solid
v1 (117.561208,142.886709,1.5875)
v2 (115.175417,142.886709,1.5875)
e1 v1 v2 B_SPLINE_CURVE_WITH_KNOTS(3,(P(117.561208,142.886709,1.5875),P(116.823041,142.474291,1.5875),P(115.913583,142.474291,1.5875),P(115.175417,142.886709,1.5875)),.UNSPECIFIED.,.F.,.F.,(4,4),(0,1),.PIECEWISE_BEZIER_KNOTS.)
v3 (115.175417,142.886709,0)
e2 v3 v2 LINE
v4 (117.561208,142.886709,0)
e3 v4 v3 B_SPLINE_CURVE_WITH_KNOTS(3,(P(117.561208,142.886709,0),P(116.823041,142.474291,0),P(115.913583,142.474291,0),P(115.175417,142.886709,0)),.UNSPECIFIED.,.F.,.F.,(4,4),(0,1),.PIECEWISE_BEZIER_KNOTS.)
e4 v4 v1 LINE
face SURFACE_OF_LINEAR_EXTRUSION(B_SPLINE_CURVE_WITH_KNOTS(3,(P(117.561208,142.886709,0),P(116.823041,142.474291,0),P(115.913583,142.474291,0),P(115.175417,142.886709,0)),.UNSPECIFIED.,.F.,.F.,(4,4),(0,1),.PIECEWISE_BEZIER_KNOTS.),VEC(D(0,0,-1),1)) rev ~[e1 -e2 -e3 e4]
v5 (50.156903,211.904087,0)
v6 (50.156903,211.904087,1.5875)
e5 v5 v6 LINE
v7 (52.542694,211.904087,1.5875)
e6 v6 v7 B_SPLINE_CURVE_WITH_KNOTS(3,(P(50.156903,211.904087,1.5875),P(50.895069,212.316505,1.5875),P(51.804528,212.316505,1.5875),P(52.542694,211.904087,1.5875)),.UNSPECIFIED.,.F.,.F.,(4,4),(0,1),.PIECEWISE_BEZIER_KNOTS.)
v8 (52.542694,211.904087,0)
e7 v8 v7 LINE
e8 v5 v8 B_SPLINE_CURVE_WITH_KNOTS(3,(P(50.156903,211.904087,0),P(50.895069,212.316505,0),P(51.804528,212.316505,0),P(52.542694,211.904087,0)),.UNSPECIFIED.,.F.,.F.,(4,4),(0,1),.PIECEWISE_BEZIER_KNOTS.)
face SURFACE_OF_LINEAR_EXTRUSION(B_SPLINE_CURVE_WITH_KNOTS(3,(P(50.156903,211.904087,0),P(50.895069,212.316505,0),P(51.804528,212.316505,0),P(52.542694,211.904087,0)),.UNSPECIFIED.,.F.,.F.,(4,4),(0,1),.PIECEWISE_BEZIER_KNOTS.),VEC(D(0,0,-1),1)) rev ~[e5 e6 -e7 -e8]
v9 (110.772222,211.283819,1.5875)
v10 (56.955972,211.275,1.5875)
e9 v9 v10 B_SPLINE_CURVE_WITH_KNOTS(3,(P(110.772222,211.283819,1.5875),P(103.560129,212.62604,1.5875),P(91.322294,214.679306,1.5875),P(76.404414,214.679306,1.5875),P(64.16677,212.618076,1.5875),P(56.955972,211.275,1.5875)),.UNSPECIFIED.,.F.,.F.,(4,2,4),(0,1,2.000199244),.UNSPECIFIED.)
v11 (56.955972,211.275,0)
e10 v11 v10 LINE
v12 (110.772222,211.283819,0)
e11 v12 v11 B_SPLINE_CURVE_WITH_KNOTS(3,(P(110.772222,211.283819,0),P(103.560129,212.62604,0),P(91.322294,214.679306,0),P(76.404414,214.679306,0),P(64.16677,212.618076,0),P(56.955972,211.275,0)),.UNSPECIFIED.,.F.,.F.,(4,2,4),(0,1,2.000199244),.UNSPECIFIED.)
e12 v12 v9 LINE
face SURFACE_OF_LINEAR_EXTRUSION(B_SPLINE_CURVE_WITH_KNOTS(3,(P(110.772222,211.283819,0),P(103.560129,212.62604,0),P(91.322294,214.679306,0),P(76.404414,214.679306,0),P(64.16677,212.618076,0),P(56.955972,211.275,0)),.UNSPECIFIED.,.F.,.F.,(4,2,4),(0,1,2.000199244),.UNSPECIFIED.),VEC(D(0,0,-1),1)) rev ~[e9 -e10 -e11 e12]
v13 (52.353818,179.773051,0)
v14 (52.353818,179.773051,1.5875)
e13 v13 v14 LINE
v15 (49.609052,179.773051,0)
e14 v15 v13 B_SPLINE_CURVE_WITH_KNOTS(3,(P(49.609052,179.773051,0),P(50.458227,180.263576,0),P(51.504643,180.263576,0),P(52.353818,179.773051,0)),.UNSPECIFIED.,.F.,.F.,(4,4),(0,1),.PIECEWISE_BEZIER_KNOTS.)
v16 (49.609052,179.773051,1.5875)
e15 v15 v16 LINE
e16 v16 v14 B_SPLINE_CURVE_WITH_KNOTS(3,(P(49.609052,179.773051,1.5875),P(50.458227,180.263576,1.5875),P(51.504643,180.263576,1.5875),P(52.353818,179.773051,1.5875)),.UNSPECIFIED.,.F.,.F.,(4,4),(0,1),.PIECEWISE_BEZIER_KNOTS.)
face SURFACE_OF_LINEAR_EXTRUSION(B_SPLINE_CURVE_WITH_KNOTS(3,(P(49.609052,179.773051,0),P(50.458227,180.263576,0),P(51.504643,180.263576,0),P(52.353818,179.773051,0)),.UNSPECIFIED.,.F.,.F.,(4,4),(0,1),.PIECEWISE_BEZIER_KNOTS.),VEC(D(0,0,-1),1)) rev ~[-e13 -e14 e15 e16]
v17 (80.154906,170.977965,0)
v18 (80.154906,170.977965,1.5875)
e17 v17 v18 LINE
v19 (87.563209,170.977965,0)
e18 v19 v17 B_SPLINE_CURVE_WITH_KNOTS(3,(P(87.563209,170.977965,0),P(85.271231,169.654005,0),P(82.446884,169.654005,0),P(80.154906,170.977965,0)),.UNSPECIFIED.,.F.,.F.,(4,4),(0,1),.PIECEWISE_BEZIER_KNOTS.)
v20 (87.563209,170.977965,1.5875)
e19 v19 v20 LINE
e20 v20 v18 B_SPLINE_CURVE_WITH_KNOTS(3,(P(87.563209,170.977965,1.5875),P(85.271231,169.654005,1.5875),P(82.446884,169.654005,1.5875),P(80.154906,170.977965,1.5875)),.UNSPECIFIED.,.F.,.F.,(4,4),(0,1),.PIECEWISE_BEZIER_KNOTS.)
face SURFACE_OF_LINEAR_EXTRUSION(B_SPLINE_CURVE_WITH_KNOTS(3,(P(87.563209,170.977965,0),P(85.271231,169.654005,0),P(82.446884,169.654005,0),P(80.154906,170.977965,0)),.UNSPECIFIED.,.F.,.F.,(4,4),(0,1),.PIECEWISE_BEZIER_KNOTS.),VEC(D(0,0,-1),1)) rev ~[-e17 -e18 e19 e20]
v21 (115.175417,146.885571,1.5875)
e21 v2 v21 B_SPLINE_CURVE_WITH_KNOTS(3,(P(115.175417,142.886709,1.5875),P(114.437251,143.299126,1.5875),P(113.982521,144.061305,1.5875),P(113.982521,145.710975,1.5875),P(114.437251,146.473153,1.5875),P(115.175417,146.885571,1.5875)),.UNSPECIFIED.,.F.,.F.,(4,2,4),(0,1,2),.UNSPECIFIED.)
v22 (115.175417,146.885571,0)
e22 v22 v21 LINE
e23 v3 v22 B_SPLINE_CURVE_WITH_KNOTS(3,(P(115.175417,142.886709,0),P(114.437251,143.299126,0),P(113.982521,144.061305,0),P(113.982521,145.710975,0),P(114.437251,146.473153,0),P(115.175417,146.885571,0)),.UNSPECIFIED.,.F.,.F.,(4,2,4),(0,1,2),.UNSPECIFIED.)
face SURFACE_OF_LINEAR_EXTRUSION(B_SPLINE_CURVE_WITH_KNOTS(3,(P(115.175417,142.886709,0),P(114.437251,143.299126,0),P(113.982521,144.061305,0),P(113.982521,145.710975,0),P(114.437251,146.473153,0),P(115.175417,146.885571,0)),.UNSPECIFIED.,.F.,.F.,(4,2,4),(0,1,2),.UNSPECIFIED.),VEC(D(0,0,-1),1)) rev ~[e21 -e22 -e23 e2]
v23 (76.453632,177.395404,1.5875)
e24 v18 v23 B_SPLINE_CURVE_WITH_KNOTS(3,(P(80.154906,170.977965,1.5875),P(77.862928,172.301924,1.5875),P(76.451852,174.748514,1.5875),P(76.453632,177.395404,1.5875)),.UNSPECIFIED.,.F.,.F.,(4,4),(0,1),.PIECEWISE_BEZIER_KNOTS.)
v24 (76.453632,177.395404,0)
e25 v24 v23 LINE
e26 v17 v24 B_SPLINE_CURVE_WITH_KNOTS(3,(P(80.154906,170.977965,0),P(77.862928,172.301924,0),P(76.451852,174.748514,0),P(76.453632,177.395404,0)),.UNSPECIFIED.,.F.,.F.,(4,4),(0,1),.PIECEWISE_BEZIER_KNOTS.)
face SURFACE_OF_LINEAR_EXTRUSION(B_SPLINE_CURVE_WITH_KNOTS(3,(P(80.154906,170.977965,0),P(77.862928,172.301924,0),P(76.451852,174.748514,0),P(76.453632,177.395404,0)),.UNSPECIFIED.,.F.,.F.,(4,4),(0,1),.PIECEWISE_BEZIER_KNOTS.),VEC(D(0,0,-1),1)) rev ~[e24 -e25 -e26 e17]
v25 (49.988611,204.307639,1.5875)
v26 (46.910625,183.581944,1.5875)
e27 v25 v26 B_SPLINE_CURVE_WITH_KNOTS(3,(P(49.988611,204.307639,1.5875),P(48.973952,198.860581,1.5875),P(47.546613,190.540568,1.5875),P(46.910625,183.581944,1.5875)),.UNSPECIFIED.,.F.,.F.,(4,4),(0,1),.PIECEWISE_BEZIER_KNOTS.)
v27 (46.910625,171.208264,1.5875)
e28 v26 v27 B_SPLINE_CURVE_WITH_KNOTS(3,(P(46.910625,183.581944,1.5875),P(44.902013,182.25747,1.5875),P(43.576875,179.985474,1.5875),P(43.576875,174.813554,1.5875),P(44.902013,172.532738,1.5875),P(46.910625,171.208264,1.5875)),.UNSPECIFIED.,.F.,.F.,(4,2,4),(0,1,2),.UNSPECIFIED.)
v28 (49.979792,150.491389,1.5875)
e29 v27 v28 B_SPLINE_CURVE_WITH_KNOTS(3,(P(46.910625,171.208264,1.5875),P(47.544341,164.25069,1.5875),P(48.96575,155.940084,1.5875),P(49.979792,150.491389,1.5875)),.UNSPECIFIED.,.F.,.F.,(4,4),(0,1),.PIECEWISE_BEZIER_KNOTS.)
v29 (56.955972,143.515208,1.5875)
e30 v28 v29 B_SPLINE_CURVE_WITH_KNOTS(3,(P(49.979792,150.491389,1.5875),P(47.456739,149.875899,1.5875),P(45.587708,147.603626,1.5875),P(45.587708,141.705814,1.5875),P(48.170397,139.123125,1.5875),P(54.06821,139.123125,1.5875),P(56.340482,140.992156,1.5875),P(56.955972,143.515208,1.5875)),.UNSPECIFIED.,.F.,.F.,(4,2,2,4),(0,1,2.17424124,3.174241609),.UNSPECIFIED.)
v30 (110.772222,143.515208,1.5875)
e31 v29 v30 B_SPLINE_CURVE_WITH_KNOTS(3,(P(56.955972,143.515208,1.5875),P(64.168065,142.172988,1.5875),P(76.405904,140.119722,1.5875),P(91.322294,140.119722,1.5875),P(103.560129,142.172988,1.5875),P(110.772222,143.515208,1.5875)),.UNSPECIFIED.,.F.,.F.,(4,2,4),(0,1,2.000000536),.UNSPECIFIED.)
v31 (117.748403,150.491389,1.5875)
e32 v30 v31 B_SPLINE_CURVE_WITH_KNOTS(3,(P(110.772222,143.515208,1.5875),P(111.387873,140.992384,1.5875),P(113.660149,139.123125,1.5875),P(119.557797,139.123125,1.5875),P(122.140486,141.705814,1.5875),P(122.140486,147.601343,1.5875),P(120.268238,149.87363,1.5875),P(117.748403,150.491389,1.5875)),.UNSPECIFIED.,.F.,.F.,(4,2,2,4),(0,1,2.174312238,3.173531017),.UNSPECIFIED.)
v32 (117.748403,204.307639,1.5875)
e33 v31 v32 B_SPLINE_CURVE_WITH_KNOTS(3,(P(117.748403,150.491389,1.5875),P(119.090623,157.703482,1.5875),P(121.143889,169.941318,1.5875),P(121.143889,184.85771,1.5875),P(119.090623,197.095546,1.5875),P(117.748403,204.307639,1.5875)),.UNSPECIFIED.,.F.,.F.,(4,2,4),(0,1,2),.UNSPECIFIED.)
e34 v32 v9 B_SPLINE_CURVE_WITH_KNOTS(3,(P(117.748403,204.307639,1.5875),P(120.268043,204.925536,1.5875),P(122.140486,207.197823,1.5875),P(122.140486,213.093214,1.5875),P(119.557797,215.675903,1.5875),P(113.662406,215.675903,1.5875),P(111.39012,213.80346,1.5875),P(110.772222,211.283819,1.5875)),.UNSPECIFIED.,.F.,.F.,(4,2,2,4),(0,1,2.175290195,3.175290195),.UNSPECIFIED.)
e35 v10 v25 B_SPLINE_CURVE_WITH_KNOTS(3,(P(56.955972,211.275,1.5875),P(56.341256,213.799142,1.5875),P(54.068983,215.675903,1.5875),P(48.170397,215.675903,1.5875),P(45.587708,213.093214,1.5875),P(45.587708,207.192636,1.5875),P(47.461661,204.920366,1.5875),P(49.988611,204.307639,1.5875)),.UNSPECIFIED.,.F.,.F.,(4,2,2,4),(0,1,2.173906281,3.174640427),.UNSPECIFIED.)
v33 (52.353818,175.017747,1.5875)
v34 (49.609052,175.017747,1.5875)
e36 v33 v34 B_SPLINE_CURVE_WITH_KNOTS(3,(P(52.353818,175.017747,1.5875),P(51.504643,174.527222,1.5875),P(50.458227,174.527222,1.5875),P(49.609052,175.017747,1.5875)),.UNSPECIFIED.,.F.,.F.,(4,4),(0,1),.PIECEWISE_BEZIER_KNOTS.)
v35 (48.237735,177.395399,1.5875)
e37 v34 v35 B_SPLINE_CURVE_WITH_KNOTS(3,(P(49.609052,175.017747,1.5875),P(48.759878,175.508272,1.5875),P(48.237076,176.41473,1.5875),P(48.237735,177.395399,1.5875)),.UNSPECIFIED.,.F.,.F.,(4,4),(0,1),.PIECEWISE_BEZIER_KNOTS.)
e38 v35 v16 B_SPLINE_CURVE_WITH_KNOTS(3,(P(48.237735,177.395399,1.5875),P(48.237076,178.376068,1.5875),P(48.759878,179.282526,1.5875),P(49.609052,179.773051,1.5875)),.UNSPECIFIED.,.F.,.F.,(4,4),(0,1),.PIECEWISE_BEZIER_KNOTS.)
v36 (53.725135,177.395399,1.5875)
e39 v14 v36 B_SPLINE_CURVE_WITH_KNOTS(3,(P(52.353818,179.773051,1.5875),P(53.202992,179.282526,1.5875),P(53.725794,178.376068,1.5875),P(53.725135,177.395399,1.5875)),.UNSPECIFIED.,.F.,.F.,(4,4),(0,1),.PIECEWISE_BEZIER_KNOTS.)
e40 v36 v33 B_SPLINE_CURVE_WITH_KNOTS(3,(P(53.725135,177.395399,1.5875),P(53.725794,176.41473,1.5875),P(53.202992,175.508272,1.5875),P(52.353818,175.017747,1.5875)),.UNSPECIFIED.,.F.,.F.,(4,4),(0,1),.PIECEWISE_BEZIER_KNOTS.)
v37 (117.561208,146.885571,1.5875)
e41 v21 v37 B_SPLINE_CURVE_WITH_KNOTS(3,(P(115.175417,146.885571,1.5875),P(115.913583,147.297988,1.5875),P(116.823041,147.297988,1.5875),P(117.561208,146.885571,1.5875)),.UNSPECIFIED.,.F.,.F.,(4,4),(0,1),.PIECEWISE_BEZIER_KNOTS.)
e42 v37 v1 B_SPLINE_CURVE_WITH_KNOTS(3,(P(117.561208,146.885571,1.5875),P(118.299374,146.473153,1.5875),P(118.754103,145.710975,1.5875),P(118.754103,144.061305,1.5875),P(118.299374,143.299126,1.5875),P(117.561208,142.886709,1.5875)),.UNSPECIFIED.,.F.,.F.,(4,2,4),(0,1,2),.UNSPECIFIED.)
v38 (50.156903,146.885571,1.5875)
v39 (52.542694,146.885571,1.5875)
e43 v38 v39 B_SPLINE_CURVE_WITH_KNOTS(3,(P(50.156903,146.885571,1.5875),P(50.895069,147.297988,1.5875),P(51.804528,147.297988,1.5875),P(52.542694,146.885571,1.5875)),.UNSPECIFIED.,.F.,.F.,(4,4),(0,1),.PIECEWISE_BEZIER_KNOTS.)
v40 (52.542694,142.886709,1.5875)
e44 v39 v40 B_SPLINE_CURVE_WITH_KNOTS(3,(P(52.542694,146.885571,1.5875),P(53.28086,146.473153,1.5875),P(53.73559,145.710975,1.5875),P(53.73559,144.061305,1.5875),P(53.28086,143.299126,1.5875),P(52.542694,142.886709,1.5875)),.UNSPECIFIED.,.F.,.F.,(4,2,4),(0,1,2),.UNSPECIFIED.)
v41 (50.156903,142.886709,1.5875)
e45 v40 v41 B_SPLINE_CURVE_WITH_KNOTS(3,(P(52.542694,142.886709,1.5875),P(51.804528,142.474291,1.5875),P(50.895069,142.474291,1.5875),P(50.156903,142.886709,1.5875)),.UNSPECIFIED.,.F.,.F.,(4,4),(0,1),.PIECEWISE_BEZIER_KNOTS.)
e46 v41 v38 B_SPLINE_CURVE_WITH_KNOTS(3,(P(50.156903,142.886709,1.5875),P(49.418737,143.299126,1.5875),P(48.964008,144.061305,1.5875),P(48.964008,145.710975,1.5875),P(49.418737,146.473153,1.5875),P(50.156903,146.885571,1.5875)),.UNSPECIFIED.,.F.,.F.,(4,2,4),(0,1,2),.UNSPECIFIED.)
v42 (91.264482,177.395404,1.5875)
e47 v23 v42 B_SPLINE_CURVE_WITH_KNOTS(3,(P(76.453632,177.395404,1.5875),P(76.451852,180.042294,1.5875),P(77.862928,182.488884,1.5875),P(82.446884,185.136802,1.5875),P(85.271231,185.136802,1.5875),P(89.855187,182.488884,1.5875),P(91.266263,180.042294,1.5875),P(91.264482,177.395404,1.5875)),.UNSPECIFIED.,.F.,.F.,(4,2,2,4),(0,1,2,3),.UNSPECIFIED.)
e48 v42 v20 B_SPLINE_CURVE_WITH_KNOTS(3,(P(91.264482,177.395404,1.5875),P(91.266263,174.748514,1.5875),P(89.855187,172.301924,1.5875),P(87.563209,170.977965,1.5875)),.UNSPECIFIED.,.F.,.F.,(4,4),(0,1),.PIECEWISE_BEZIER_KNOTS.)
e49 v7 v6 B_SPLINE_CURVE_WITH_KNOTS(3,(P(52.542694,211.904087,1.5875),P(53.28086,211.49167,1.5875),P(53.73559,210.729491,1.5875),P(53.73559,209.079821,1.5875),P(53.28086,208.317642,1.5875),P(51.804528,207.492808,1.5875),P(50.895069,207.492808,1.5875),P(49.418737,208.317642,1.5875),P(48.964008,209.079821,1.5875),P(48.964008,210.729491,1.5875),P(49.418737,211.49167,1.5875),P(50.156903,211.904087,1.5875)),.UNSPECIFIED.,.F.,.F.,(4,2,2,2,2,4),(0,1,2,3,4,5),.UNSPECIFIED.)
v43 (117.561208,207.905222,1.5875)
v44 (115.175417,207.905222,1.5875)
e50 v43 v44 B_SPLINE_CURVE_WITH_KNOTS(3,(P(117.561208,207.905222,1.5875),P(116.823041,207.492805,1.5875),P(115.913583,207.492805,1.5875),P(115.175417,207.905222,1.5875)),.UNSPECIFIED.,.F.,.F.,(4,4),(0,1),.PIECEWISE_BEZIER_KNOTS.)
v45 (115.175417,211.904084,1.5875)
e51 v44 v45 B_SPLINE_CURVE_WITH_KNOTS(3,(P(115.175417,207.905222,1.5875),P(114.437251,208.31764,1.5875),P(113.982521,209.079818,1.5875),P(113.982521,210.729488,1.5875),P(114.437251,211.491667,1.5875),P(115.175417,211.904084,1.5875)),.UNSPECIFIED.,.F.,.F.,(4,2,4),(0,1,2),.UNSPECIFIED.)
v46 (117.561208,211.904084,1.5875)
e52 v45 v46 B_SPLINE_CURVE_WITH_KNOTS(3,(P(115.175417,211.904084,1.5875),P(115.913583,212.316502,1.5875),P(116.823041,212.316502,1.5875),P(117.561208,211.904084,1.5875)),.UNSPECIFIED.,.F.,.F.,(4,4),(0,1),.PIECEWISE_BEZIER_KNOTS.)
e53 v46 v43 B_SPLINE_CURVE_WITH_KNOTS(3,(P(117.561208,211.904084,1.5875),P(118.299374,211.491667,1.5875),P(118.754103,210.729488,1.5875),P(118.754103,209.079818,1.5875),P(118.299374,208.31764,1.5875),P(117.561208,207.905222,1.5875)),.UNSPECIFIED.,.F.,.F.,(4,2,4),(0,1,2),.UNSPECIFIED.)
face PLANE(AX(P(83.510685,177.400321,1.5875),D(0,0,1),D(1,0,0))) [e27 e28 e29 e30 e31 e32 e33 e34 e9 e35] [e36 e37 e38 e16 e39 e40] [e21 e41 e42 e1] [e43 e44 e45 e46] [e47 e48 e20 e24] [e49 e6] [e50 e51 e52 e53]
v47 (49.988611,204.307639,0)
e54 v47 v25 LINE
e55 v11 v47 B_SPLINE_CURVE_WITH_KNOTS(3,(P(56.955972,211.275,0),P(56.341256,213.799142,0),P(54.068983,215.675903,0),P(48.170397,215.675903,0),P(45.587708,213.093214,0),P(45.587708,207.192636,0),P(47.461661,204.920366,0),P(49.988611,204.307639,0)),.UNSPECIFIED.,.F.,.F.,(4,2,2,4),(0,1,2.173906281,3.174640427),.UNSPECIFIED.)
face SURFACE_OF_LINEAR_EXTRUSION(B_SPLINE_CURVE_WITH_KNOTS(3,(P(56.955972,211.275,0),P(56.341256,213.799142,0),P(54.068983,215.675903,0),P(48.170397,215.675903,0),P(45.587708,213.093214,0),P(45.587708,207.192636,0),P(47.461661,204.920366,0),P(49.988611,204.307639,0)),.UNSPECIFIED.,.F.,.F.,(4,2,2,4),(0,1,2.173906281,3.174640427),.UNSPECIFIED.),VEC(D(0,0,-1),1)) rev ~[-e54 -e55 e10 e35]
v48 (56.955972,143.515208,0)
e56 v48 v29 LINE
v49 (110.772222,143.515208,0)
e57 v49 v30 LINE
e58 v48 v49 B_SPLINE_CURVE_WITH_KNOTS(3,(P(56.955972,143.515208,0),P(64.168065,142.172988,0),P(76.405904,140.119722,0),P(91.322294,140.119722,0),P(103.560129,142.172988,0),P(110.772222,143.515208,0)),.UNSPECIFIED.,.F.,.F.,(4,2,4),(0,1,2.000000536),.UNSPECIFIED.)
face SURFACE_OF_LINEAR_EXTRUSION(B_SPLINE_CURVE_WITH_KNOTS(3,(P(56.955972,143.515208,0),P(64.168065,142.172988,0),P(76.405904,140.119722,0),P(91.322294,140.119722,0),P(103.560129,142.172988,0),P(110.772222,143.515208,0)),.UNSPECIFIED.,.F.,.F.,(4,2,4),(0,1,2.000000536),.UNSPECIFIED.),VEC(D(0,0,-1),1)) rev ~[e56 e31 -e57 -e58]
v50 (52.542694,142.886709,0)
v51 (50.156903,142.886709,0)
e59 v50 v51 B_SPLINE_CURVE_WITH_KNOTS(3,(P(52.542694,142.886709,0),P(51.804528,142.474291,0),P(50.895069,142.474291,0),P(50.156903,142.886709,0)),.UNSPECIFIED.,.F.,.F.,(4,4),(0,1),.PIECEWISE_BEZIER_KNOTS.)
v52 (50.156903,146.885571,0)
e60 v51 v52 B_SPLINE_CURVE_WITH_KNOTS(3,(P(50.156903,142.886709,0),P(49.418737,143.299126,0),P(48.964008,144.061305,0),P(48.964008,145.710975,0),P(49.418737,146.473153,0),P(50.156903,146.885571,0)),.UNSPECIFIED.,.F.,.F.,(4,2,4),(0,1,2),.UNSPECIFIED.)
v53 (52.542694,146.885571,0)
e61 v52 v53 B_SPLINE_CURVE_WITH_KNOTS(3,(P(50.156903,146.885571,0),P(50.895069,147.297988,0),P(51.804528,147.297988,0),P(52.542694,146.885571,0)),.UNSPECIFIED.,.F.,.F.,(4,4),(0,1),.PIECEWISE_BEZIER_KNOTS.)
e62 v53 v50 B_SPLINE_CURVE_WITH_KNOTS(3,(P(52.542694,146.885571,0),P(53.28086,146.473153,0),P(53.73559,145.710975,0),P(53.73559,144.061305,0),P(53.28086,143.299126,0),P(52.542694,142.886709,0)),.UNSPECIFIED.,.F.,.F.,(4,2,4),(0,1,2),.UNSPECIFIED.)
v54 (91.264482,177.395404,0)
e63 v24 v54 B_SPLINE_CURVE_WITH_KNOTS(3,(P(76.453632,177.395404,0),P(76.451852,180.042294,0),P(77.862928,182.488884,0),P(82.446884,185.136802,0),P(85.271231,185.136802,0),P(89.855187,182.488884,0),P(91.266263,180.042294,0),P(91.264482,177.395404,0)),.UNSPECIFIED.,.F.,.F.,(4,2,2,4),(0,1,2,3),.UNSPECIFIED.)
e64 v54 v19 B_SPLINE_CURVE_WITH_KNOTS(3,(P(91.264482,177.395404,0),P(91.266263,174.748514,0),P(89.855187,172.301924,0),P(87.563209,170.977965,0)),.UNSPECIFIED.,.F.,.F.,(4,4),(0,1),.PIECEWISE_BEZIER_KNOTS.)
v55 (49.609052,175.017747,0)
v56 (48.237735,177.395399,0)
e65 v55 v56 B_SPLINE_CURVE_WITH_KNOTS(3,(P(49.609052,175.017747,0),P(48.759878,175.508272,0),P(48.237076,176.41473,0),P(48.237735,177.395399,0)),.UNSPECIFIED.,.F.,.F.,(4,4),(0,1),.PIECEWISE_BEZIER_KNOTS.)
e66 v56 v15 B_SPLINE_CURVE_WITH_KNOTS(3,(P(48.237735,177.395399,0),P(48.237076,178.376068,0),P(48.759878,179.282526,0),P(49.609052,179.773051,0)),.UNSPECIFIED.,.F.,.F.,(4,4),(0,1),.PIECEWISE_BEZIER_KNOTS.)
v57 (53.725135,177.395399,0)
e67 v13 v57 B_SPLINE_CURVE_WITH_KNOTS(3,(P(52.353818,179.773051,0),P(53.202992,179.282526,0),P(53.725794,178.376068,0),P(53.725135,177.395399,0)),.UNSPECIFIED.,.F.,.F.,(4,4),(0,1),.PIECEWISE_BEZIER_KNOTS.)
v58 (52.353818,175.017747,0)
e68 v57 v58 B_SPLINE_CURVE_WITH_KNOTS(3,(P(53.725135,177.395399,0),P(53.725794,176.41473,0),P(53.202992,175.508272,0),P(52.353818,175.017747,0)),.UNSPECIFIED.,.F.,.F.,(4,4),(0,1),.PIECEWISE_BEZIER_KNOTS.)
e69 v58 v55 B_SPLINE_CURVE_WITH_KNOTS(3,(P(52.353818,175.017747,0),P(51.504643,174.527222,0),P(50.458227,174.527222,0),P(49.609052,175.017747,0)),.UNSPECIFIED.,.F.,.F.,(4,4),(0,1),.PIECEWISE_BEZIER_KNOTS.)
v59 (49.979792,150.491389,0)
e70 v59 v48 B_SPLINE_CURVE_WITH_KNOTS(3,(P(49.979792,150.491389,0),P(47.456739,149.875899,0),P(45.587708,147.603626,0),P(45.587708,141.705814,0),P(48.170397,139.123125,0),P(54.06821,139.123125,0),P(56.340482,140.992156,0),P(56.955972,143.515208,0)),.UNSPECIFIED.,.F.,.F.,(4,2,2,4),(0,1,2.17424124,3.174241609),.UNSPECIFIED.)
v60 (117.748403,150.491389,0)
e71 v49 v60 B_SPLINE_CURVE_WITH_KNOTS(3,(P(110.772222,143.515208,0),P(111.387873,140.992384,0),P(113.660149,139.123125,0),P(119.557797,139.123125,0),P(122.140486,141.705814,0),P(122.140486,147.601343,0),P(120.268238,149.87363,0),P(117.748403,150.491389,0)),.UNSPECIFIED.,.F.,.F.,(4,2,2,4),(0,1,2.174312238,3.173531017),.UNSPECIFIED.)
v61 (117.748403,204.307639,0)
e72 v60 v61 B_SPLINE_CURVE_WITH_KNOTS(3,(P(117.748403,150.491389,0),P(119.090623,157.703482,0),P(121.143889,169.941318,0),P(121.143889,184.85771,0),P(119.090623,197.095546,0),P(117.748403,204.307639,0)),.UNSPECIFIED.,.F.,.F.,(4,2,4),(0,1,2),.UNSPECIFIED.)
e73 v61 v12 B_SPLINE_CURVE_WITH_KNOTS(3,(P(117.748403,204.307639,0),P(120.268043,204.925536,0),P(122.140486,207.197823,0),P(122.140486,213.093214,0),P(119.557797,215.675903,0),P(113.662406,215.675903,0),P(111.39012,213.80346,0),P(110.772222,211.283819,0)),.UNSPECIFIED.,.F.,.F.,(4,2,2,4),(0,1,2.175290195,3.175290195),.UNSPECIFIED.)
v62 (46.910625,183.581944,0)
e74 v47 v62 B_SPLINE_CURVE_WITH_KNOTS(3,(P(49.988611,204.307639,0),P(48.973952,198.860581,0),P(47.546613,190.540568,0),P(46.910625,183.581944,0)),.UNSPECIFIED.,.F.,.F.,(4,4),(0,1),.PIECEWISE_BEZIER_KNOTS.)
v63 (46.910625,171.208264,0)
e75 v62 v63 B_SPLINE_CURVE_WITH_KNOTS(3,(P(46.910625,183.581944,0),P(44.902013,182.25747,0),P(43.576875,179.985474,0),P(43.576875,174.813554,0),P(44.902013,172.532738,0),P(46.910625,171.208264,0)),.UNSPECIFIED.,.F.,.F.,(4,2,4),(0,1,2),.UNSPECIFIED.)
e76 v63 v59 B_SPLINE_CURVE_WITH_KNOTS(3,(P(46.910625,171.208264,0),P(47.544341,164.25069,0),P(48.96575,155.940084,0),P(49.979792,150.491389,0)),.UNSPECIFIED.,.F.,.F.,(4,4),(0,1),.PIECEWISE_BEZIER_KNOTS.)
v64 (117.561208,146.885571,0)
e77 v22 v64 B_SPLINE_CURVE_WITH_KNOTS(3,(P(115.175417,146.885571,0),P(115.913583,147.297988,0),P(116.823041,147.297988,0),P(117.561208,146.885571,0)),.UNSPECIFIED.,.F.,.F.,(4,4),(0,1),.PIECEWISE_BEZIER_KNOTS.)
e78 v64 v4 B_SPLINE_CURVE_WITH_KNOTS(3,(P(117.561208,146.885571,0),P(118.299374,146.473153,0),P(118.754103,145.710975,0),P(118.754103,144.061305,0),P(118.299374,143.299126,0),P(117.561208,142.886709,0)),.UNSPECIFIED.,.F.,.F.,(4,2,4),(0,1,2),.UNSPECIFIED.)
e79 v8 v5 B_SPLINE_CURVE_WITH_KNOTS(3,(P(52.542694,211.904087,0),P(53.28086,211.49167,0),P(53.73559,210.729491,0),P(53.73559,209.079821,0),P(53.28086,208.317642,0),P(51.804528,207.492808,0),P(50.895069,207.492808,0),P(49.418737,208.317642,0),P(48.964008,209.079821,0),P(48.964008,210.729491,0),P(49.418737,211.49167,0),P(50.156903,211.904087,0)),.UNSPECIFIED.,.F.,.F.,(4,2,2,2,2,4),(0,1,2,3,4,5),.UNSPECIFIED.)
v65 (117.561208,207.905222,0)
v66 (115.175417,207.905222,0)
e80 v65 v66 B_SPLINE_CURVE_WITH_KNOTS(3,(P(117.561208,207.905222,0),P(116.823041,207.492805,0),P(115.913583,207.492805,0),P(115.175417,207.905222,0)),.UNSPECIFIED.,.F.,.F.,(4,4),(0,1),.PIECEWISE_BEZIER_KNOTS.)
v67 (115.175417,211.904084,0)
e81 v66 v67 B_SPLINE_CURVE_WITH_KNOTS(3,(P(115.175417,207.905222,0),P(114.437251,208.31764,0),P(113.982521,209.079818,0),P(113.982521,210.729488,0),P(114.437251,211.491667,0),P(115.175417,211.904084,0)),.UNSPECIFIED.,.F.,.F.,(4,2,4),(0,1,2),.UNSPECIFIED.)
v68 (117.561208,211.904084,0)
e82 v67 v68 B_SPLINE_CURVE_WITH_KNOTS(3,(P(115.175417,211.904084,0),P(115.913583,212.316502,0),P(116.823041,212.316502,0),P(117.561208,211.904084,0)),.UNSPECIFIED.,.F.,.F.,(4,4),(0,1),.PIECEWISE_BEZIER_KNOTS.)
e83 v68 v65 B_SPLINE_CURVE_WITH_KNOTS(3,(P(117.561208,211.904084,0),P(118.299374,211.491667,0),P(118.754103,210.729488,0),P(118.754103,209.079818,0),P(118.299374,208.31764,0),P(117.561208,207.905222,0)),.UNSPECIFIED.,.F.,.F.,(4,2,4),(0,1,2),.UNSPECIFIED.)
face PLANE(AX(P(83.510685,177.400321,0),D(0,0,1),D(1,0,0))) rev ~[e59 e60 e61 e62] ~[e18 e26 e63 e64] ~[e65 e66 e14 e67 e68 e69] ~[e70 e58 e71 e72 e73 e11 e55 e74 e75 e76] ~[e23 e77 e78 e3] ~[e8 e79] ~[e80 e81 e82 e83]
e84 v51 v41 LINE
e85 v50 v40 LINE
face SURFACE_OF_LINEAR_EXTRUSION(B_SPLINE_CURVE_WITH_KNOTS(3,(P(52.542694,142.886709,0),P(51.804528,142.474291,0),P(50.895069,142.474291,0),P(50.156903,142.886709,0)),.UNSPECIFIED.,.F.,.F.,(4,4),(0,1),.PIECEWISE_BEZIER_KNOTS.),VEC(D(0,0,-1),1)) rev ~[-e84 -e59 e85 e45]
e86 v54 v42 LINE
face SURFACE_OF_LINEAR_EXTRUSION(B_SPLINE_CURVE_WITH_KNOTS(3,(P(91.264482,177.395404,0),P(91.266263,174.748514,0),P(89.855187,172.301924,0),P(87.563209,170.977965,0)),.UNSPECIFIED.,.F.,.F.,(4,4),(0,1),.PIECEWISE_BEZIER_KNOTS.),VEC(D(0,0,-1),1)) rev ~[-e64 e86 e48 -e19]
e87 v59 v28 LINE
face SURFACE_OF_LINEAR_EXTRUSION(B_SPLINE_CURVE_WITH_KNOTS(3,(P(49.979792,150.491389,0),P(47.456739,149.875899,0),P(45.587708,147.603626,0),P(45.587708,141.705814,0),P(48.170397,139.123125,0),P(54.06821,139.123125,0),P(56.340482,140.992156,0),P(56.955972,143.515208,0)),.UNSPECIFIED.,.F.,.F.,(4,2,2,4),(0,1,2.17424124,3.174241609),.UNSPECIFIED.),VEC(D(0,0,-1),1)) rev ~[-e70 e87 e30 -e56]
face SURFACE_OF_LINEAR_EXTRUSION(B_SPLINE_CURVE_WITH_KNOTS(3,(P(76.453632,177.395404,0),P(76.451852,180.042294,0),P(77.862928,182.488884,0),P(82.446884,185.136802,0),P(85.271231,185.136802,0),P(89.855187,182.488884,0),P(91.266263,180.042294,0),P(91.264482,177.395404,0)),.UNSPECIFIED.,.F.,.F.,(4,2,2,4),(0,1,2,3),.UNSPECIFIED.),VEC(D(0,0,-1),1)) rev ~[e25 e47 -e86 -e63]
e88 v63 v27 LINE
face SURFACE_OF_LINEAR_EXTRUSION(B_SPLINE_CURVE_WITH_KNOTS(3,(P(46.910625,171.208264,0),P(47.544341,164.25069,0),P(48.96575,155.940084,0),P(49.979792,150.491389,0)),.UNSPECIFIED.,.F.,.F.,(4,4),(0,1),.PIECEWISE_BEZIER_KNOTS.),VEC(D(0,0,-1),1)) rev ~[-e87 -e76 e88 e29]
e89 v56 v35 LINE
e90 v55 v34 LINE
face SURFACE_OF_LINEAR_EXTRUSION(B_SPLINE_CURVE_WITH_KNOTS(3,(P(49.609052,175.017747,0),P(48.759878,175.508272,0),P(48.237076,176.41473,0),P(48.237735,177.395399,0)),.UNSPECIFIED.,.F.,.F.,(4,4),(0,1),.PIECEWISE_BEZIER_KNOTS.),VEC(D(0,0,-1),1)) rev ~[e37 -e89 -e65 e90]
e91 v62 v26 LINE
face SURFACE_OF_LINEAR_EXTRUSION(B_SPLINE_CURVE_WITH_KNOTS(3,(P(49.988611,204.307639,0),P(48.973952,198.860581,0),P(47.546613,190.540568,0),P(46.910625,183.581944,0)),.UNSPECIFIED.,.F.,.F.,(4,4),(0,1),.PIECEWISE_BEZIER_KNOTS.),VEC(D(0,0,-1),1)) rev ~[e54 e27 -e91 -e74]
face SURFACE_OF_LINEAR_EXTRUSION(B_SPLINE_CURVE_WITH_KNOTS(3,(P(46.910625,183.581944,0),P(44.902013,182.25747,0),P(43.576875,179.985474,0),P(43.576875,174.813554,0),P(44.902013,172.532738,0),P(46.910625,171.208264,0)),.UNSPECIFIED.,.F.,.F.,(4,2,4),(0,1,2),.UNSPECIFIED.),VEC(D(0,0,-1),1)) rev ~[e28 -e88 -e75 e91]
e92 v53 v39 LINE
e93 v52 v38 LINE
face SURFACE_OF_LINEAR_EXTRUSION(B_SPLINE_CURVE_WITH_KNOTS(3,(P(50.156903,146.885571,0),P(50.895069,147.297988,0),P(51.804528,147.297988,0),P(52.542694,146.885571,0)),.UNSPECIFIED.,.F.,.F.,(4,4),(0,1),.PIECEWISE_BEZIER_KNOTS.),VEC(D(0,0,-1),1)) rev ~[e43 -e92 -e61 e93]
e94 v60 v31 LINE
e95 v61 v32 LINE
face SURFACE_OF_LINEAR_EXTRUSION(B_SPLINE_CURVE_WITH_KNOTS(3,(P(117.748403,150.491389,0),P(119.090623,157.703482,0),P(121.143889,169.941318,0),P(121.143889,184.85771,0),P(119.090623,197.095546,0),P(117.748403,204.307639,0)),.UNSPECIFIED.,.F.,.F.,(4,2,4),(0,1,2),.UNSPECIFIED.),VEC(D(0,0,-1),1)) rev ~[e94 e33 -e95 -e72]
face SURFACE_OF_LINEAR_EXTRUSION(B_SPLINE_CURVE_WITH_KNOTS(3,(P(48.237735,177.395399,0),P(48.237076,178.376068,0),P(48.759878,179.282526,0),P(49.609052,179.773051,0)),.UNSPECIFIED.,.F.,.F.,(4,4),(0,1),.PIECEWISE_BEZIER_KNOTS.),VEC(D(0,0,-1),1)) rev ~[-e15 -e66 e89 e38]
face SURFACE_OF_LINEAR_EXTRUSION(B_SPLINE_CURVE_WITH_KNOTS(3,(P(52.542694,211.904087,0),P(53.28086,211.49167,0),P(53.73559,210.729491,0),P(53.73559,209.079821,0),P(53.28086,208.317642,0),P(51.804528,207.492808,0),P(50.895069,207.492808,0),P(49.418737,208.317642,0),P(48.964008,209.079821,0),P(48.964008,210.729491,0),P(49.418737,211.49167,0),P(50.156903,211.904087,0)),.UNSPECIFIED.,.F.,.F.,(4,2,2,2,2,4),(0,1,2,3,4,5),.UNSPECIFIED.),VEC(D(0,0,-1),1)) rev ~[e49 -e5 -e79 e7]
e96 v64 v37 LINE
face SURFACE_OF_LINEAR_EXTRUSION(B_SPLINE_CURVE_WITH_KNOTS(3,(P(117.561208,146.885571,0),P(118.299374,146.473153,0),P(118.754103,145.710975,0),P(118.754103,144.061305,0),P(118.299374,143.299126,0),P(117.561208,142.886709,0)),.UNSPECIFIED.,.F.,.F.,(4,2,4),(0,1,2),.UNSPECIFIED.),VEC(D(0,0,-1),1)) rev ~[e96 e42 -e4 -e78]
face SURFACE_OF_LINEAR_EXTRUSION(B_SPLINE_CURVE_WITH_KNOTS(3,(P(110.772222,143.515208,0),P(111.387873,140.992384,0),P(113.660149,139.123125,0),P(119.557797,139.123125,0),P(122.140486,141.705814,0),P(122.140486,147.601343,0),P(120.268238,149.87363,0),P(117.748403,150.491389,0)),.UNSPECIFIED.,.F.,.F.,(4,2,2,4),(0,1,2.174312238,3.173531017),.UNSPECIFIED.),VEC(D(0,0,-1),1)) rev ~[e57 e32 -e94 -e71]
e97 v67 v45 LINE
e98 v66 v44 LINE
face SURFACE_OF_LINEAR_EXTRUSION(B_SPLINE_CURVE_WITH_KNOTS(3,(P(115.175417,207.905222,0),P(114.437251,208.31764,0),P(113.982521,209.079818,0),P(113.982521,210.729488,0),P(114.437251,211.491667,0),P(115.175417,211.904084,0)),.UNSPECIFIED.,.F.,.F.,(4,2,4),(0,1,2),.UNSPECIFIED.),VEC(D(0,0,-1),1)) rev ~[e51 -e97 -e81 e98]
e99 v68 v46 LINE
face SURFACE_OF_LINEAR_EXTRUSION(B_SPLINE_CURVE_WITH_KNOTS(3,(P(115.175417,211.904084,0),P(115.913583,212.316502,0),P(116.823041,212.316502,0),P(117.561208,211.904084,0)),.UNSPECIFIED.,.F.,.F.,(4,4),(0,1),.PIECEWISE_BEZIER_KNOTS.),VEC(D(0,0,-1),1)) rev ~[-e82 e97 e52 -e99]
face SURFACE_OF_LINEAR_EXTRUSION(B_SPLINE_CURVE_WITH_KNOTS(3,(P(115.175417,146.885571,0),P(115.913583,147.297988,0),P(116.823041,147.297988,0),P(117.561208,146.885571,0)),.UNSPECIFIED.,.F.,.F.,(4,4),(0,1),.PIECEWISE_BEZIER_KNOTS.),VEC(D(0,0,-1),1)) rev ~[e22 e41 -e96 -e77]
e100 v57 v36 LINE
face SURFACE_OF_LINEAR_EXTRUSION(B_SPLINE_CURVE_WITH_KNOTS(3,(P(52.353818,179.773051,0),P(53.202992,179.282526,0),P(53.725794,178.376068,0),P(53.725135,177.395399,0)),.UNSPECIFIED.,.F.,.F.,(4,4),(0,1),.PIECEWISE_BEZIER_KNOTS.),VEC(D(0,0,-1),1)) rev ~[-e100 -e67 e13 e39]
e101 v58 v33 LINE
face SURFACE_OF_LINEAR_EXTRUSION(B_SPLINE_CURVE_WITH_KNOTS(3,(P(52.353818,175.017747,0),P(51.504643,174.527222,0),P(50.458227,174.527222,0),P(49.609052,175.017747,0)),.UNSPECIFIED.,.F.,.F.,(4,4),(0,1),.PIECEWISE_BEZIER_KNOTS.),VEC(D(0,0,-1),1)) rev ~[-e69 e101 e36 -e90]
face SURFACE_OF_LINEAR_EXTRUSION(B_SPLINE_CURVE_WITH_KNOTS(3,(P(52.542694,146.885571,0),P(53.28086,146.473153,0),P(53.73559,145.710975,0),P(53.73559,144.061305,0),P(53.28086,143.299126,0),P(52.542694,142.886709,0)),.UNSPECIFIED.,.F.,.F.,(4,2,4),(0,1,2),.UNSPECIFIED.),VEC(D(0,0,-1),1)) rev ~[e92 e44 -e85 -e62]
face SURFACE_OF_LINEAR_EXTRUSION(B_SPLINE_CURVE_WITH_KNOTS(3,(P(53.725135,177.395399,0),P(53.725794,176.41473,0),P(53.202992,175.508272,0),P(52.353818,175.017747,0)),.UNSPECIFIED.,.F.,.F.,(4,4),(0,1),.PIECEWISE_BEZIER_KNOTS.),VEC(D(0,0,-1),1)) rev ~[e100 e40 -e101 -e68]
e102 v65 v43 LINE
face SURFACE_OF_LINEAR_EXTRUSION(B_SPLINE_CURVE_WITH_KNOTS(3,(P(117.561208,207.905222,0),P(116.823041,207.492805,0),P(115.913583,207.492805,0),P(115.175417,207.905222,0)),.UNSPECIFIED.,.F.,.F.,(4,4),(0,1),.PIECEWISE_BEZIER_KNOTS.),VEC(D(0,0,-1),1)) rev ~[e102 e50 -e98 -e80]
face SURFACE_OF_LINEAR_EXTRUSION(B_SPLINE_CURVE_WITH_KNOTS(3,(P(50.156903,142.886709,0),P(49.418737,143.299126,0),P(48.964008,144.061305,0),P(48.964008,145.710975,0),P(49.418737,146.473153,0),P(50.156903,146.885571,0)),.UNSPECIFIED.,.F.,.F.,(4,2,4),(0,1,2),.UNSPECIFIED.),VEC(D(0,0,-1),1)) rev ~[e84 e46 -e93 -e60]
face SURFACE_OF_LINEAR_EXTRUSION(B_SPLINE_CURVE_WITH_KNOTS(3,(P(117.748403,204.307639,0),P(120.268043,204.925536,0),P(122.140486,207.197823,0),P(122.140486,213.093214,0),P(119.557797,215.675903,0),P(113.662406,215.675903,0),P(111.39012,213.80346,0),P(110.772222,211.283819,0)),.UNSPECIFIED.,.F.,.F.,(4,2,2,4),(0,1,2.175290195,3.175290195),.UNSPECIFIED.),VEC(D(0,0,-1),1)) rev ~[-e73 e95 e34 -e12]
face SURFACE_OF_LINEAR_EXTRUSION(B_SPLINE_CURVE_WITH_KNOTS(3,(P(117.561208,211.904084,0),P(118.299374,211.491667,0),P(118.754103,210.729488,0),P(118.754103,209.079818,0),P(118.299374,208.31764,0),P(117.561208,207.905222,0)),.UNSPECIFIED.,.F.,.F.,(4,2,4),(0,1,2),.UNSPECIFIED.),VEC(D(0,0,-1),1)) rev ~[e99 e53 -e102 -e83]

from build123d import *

# Parameters (mm, degrees)
BOSS_EXTRUDE1_DEPTH = 1.5875


with BuildPart() as part:
    # Model → Boss-Extrude1 (new body)
    with BuildSketch(Plane.XY):
        with BuildLine():
            add(Edge.make_bspline(
                [(51.355625, 215.675903), (48.170397, 215.675903), (45.587708, 213.093214), (45.587708, 209.907986)],
                knots=[0, 0, 0, 0, 1, 1, 1, 1], degree=3))
            add(Edge.make_bspline(
                [(45.587708, 209.907986), (45.587708, 207.192636), (47.461661, 204.920366), (49.988611, 204.307639)],
                knots=[0, 0, 0, 0, 1, 1, 1, 1], degree=3))
            add(Edge.make_bspline(
                [(49.988611, 204.307639), (48.973952, 198.860581), (47.546613, 190.540568), (46.910625, 183.581944)],
                knots=[0, 0, 0, 0, 1, 1, 1, 1], degree=3))
            add(Edge.make_bspline(
                [(46.910625, 183.581944), (44.902013, 182.25747), (43.576875, 179.985474), (43.576875, 177.399514)],
                knots=[0, 0, 0, 0, 1, 1, 1, 1], degree=3))
            add(Edge.make_bspline(
                [(43.576875, 177.399514), (43.576875, 174.813554), (44.902013, 172.532738), (46.910625, 171.208264)],
                knots=[0, 0, 0, 0, 1, 1, 1, 1], degree=3))
            add(Edge.make_bspline(
                [(46.910625, 171.208264), (47.544341, 164.25069), (48.96575, 155.940084), (49.979792, 150.491389)],
                knots=[0, 0, 0, 0, 1, 1, 1, 1], degree=3))
            add(Edge.make_bspline(
                [(49.979792, 150.491389), (47.456739, 149.875899), (45.587708, 147.603626), (45.587708, 144.891042)],
                knots=[0, 0, 0, 0, 1, 1, 1, 1], degree=3))
            add(Edge.make_bspline(
                [(45.587708, 144.891042), (45.587708, 141.705814), (48.170397, 139.123125), (51.355625, 139.123125)],
                knots=[0, 0, 0, 0, 1, 1, 1, 1], degree=3))
            add(Edge.make_bspline(
                [(51.355625, 139.123125), (54.06821, 139.123125), (56.340482, 140.992156), (56.955972, 143.515208)],
                knots=[0, 0, 0, 0, 1, 1, 1, 1], degree=3))
            add(Edge.make_bspline(
                [(56.955972, 143.515208), (64.168065, 142.172988), (76.405904, 140.119722), (83.864097, 140.119722)],
                knots=[0, 0, 0, 0, 1, 1, 1, 1], degree=3))
            add(Edge.make_bspline(
                [(83.864097, 140.119722), (91.322294, 140.119722), (103.560129, 142.172988), (110.772222, 143.515208)],
                knots=[0, 0, 0, 0, 1, 1, 1, 1], degree=3))
            add(Edge.make_bspline(
                [(110.772222, 143.515208), (111.387873, 140.992384), (113.660149, 139.123125), (116.372569, 139.123125)],
                knots=[0, 0, 0, 0, 1, 1, 1, 1], degree=3))
            add(Edge.make_bspline(
                [(116.372569, 139.123125), (119.557797, 139.123125), (122.140486, 141.705814), (122.140486, 144.891042)],
                knots=[0, 0, 0, 0, 1, 1, 1, 1], degree=3))
            add(Edge.make_bspline(
                [(122.140486, 144.891042), (122.140486, 147.601343), (120.268238, 149.87363), (117.748403, 150.491389)],
                knots=[0, 0, 0, 0, 1, 1, 1, 1], degree=3))
            add(Edge.make_bspline(
                [(117.748403, 150.491389), (119.090623, 157.703482), (121.143889, 169.941318), (121.143889, 177.399514)],
                knots=[0, 0, 0, 0, 1, 1, 1, 1], degree=3))
            add(Edge.make_bspline(
                [(121.143889, 177.399514), (121.143889, 184.85771), (119.090623, 197.095546), (117.748403, 204.307639)],
                knots=[0, 0, 0, 0, 1, 1, 1, 1], degree=3))
            add(Edge.make_bspline(
                [(117.748403, 204.307639), (120.268043, 204.925536), (122.140486, 207.197823), (122.140486, 209.907986)],
                knots=[0, 0, 0, 0, 1, 1, 1, 1], degree=3))
            add(Edge.make_bspline(
                [(122.140486, 209.907986), (122.140486, 213.093214), (119.557797, 215.675903), (116.372569, 215.675903)],
                knots=[0, 0, 0, 0, 1, 1, 1, 1], degree=3))
            add(Edge.make_bspline(
                [(116.372569, 215.675903), (113.662406, 215.675903), (111.39012, 213.80346), (110.772222, 211.283819)],
                knots=[0, 0, 0, 0, 1, 1, 1, 1], degree=3))
            add(Edge.make_bspline(
                [(110.772222, 211.283819), (103.560129, 212.62604), (91.322294, 214.679306), (83.864097, 214.679306)],
                knots=[0, 0, 0, 0, 1, 1, 1, 1], degree=3))
            add(Edge.make_bspline(
                [(83.864097, 214.679306), (76.404414, 214.679306), (64.16677, 212.618076), (56.955972, 211.275)],
                knots=[0, 0, 0, 0, 1, 1, 1, 1], degree=3))
            add(Edge.make_bspline(
                [(56.955972, 211.275), (56.341256, 213.799142), (54.068983, 215.675903), (51.355625, 215.675903)],
                knots=[0, 0, 0, 0, 1, 1, 1, 1], degree=3))
        make_face()
        with BuildLine():
            add(Edge.make_bspline(
                [(53.73559, 209.904656), (53.73559, 209.079821), (53.28086, 208.317642), (52.542694, 207.905225)],
                knots=[0, 0, 0, 0, 1, 1, 1, 1], degree=3))
            add(Edge.make_bspline(
                [(52.542694, 207.905225), (51.804528, 207.492808), (50.895069, 207.492808), (50.156903, 207.905225)],
                knots=[0, 0, 0, 0, 1, 1, 1, 1], degree=3))
            add(Edge.make_bspline(
                [(50.156903, 207.905225), (49.418737, 208.317642), (48.964008, 209.079821), (48.964008, 209.904656)],
                knots=[0, 0, 0, 0, 1, 1, 1, 1], degree=3))
            add(Edge.make_bspline(
                [(48.964008, 209.904656), (48.964008, 210.729491), (49.418737, 211.49167), (50.156903, 211.904087)],
                knots=[0, 0, 0, 0, 1, 1, 1, 1], degree=3))
            add(Edge.make_bspline(
                [(50.156903, 211.904087), (50.895069, 212.316505), (51.804528, 212.316505), (52.542694, 211.904087)],
                knots=[0, 0, 0, 0, 1, 1, 1, 1], degree=3))
            add(Edge.make_bspline(
                [(52.542694, 211.904087), (53.28086, 211.49167), (53.73559, 210.729491), (53.73559, 209.904656)],
                knots=[0, 0, 0, 0, 1, 1, 1, 1], degree=3))
        make_face(mode=Mode.SUBTRACT)
        with BuildLine():
            add(Edge.make_bspline(
                [(118.754103, 144.88614), (118.754103, 144.061305), (118.299374, 143.299126), (117.561208, 142.886709)],
                knots=[0, 0, 0, 0, 1, 1, 1, 1], degree=3))
            add(Edge.make_bspline(
                [(117.561208, 142.886709), (116.823041, 142.474291), (115.913583, 142.474291), (115.175417, 142.886709)],
                knots=[0, 0, 0, 0, 1, 1, 1, 1], degree=3))
            add(Edge.make_bspline(
                [(115.175417, 142.886709), (114.437251, 143.299126), (113.982521, 144.061305), (113.982521, 144.88614)],
                knots=[0, 0, 0, 0, 1, 1, 1, 1], degree=3))
            add(Edge.make_bspline(
                [(113.982521, 144.88614), (113.982521, 145.710975), (114.437251, 146.473153), (115.175417, 146.885571)],
                knots=[0, 0, 0, 0, 1, 1, 1, 1], degree=3))
            add(Edge.make_bspline(
                [(115.175417, 146.885571), (115.913583, 147.297988), (116.823041, 147.297988), (117.561208, 146.885571)],
                knots=[0, 0, 0, 0, 1, 1, 1, 1], degree=3))
            add(Edge.make_bspline(
                [(117.561208, 146.885571), (118.299374, 146.473153), (118.754103, 145.710975), (118.754103, 144.88614)],
                knots=[0, 0, 0, 0, 1, 1, 1, 1], degree=3))
        make_face(mode=Mode.SUBTRACT)
        with BuildLine():
            add(Edge.make_bspline(
                [(53.73559, 144.88614), (53.73559, 144.061305), (53.28086, 143.299126), (52.542694, 142.886709)],
                knots=[0, 0, 0, 0, 1, 1, 1, 1], degree=3))
            add(Edge.make_bspline(
                [(52.542694, 142.886709), (51.804528, 142.474291), (50.895069, 142.474291), (50.156903, 142.886709)],
                knots=[0, 0, 0, 0, 1, 1, 1, 1], degree=3))
            add(Edge.make_bspline(
                [(50.156903, 142.886709), (49.418737, 143.299126), (48.964008, 144.061305), (48.964008, 144.88614)],
                knots=[0, 0, 0, 0, 1, 1, 1, 1], degree=3))
            add(Edge.make_bspline(
                [(48.964008, 144.88614), (48.964008, 145.710975), (49.418737, 146.473153), (50.156903, 146.885571)],
                knots=[0, 0, 0, 0, 1, 1, 1, 1], degree=3))
            add(Edge.make_bspline(
                [(50.156903, 146.885571), (50.895069, 147.297988), (51.804528, 147.297988), (52.542694, 146.885571)],
                knots=[0, 0, 0, 0, 1, 1, 1, 1], degree=3))
            add(Edge.make_bspline(
                [(52.542694, 146.885571), (53.28086, 146.473153), (53.73559, 145.710975), (53.73559, 144.88614)],
                knots=[0, 0, 0, 0, 1, 1, 1, 1], degree=3))
        make_face(mode=Mode.SUBTRACT)
        with BuildLine():
            add(Edge.make_bspline(
                [(118.754103, 209.904653), (118.754103, 209.079818), (118.299374, 208.31764), (117.561208, 207.905222)],
                knots=[0, 0, 0, 0, 1, 1, 1, 1], degree=3))
            add(Edge.make_bspline(
                [(117.561208, 207.905222), (116.823041, 207.492805), (115.913583, 207.492805), (115.175417, 207.905222)],
                knots=[0, 0, 0, 0, 1, 1, 1, 1], degree=3))
            add(Edge.make_bspline(
                [(115.175417, 207.905222), (114.437251, 208.31764), (113.982521, 209.079818), (113.982521, 209.904653)],
                knots=[0, 0, 0, 0, 1, 1, 1, 1], degree=3))
            add(Edge.make_bspline(
                [(113.982521, 209.904653), (113.982521, 210.729488), (114.437251, 211.491667), (115.175417, 211.904084)],
                knots=[0, 0, 0, 0, 1, 1, 1, 1], degree=3))
            add(Edge.make_bspline(
                [(115.175417, 211.904084), (115.913583, 212.316502), (116.823041, 212.316502), (117.561208, 211.904084)],
                knots=[0, 0, 0, 0, 1, 1, 1, 1], degree=3))
            add(Edge.make_bspline(
                [(117.561208, 211.904084), (118.299374, 211.491667), (118.754103, 210.729488), (118.754103, 209.904653)],
                knots=[0, 0, 0, 0, 1, 1, 1, 1], degree=3))
        make_face(mode=Mode.SUBTRACT)
        with BuildLine():
            add(Edge.make_bspline(
                [(53.725135, 177.395399), (53.725794, 176.41473), (53.202992, 175.508272), (52.353818, 175.017747)],
                knots=[0, 0, 0, 0, 1, 1, 1, 1], degree=3))
            add(Edge.make_bspline(
                [(52.353818, 175.017747), (51.504643, 174.527222), (50.458227, 174.527222), (49.609052, 175.017747)],
                knots=[0, 0, 0, 0, 1, 1, 1, 1], degree=3))
            add(Edge.make_bspline(
                [(49.609052, 175.017747), (48.759878, 175.508272), (48.237076, 176.41473), (48.237735, 177.395399)],
                knots=[0, 0, 0, 0, 1, 1, 1, 1], degree=3))
            add(Edge.make_bspline(
                [(48.237735, 177.395399), (48.237076, 178.376068), (48.759878, 179.282526), (49.609052, 179.773051)],
                knots=[0, 0, 0, 0, 1, 1, 1, 1], degree=3))
            add(Edge.make_bspline(
                [(49.609052, 179.773051), (50.458227, 180.263576), (51.504643, 180.263576), (52.353818, 179.773051)],
                knots=[0, 0, 0, 0, 1, 1, 1, 1], degree=3))
            add(Edge.make_bspline(
                [(52.353818, 179.773051), (53.202992, 179.282526), (53.725794, 178.376068), (53.725135, 177.395399)],
                knots=[0, 0, 0, 0, 1, 1, 1, 1], degree=3))
        make_face(mode=Mode.SUBTRACT)
        with BuildLine():
            add(Edge.make_bspline(
                [(91.264482, 177.395404), (91.266263, 174.748514), (89.855187, 172.301924), (87.563209, 170.977965)],
                knots=[0, 0, 0, 0, 1, 1, 1, 1], degree=3))
            add(Edge.make_bspline(
                [(87.563209, 170.977965), (85.271231, 169.654005), (82.446884, 169.654005), (80.154906, 170.977965)],
                knots=[0, 0, 0, 0, 1, 1, 1, 1], degree=3))
            add(Edge.make_bspline(
                [(80.154906, 170.977965), (77.862928, 172.301924), (76.451852, 174.748514), (76.453632, 177.395404)],
                knots=[0, 0, 0, 0, 1, 1, 1, 1], degree=3))
            add(Edge.make_bspline(
                [(76.453632, 177.395404), (76.451852, 180.042294), (77.862928, 182.488884), (80.154906, 183.812843)],
                knots=[0, 0, 0, 0, 1, 1, 1, 1], degree=3))
            add(Edge.make_bspline(
                [(80.154906, 183.812843), (82.446884, 185.136802), (85.271231, 185.136802), (87.563209, 183.812843)],
                knots=[0, 0, 0, 0, 1, 1, 1, 1], degree=3))
            add(Edge.make_bspline(
                [(87.563209, 183.812843), (89.855187, 182.488884), (91.266263, 180.042294), (91.264482, 177.395404)],
                knots=[0, 0, 0, 0, 1, 1, 1, 1], degree=3))
        make_face(mode=Mode.SUBTRACT)
    extrude(amount=BOSS_EXTRUDE1_DEPTH)


solid = part.part
